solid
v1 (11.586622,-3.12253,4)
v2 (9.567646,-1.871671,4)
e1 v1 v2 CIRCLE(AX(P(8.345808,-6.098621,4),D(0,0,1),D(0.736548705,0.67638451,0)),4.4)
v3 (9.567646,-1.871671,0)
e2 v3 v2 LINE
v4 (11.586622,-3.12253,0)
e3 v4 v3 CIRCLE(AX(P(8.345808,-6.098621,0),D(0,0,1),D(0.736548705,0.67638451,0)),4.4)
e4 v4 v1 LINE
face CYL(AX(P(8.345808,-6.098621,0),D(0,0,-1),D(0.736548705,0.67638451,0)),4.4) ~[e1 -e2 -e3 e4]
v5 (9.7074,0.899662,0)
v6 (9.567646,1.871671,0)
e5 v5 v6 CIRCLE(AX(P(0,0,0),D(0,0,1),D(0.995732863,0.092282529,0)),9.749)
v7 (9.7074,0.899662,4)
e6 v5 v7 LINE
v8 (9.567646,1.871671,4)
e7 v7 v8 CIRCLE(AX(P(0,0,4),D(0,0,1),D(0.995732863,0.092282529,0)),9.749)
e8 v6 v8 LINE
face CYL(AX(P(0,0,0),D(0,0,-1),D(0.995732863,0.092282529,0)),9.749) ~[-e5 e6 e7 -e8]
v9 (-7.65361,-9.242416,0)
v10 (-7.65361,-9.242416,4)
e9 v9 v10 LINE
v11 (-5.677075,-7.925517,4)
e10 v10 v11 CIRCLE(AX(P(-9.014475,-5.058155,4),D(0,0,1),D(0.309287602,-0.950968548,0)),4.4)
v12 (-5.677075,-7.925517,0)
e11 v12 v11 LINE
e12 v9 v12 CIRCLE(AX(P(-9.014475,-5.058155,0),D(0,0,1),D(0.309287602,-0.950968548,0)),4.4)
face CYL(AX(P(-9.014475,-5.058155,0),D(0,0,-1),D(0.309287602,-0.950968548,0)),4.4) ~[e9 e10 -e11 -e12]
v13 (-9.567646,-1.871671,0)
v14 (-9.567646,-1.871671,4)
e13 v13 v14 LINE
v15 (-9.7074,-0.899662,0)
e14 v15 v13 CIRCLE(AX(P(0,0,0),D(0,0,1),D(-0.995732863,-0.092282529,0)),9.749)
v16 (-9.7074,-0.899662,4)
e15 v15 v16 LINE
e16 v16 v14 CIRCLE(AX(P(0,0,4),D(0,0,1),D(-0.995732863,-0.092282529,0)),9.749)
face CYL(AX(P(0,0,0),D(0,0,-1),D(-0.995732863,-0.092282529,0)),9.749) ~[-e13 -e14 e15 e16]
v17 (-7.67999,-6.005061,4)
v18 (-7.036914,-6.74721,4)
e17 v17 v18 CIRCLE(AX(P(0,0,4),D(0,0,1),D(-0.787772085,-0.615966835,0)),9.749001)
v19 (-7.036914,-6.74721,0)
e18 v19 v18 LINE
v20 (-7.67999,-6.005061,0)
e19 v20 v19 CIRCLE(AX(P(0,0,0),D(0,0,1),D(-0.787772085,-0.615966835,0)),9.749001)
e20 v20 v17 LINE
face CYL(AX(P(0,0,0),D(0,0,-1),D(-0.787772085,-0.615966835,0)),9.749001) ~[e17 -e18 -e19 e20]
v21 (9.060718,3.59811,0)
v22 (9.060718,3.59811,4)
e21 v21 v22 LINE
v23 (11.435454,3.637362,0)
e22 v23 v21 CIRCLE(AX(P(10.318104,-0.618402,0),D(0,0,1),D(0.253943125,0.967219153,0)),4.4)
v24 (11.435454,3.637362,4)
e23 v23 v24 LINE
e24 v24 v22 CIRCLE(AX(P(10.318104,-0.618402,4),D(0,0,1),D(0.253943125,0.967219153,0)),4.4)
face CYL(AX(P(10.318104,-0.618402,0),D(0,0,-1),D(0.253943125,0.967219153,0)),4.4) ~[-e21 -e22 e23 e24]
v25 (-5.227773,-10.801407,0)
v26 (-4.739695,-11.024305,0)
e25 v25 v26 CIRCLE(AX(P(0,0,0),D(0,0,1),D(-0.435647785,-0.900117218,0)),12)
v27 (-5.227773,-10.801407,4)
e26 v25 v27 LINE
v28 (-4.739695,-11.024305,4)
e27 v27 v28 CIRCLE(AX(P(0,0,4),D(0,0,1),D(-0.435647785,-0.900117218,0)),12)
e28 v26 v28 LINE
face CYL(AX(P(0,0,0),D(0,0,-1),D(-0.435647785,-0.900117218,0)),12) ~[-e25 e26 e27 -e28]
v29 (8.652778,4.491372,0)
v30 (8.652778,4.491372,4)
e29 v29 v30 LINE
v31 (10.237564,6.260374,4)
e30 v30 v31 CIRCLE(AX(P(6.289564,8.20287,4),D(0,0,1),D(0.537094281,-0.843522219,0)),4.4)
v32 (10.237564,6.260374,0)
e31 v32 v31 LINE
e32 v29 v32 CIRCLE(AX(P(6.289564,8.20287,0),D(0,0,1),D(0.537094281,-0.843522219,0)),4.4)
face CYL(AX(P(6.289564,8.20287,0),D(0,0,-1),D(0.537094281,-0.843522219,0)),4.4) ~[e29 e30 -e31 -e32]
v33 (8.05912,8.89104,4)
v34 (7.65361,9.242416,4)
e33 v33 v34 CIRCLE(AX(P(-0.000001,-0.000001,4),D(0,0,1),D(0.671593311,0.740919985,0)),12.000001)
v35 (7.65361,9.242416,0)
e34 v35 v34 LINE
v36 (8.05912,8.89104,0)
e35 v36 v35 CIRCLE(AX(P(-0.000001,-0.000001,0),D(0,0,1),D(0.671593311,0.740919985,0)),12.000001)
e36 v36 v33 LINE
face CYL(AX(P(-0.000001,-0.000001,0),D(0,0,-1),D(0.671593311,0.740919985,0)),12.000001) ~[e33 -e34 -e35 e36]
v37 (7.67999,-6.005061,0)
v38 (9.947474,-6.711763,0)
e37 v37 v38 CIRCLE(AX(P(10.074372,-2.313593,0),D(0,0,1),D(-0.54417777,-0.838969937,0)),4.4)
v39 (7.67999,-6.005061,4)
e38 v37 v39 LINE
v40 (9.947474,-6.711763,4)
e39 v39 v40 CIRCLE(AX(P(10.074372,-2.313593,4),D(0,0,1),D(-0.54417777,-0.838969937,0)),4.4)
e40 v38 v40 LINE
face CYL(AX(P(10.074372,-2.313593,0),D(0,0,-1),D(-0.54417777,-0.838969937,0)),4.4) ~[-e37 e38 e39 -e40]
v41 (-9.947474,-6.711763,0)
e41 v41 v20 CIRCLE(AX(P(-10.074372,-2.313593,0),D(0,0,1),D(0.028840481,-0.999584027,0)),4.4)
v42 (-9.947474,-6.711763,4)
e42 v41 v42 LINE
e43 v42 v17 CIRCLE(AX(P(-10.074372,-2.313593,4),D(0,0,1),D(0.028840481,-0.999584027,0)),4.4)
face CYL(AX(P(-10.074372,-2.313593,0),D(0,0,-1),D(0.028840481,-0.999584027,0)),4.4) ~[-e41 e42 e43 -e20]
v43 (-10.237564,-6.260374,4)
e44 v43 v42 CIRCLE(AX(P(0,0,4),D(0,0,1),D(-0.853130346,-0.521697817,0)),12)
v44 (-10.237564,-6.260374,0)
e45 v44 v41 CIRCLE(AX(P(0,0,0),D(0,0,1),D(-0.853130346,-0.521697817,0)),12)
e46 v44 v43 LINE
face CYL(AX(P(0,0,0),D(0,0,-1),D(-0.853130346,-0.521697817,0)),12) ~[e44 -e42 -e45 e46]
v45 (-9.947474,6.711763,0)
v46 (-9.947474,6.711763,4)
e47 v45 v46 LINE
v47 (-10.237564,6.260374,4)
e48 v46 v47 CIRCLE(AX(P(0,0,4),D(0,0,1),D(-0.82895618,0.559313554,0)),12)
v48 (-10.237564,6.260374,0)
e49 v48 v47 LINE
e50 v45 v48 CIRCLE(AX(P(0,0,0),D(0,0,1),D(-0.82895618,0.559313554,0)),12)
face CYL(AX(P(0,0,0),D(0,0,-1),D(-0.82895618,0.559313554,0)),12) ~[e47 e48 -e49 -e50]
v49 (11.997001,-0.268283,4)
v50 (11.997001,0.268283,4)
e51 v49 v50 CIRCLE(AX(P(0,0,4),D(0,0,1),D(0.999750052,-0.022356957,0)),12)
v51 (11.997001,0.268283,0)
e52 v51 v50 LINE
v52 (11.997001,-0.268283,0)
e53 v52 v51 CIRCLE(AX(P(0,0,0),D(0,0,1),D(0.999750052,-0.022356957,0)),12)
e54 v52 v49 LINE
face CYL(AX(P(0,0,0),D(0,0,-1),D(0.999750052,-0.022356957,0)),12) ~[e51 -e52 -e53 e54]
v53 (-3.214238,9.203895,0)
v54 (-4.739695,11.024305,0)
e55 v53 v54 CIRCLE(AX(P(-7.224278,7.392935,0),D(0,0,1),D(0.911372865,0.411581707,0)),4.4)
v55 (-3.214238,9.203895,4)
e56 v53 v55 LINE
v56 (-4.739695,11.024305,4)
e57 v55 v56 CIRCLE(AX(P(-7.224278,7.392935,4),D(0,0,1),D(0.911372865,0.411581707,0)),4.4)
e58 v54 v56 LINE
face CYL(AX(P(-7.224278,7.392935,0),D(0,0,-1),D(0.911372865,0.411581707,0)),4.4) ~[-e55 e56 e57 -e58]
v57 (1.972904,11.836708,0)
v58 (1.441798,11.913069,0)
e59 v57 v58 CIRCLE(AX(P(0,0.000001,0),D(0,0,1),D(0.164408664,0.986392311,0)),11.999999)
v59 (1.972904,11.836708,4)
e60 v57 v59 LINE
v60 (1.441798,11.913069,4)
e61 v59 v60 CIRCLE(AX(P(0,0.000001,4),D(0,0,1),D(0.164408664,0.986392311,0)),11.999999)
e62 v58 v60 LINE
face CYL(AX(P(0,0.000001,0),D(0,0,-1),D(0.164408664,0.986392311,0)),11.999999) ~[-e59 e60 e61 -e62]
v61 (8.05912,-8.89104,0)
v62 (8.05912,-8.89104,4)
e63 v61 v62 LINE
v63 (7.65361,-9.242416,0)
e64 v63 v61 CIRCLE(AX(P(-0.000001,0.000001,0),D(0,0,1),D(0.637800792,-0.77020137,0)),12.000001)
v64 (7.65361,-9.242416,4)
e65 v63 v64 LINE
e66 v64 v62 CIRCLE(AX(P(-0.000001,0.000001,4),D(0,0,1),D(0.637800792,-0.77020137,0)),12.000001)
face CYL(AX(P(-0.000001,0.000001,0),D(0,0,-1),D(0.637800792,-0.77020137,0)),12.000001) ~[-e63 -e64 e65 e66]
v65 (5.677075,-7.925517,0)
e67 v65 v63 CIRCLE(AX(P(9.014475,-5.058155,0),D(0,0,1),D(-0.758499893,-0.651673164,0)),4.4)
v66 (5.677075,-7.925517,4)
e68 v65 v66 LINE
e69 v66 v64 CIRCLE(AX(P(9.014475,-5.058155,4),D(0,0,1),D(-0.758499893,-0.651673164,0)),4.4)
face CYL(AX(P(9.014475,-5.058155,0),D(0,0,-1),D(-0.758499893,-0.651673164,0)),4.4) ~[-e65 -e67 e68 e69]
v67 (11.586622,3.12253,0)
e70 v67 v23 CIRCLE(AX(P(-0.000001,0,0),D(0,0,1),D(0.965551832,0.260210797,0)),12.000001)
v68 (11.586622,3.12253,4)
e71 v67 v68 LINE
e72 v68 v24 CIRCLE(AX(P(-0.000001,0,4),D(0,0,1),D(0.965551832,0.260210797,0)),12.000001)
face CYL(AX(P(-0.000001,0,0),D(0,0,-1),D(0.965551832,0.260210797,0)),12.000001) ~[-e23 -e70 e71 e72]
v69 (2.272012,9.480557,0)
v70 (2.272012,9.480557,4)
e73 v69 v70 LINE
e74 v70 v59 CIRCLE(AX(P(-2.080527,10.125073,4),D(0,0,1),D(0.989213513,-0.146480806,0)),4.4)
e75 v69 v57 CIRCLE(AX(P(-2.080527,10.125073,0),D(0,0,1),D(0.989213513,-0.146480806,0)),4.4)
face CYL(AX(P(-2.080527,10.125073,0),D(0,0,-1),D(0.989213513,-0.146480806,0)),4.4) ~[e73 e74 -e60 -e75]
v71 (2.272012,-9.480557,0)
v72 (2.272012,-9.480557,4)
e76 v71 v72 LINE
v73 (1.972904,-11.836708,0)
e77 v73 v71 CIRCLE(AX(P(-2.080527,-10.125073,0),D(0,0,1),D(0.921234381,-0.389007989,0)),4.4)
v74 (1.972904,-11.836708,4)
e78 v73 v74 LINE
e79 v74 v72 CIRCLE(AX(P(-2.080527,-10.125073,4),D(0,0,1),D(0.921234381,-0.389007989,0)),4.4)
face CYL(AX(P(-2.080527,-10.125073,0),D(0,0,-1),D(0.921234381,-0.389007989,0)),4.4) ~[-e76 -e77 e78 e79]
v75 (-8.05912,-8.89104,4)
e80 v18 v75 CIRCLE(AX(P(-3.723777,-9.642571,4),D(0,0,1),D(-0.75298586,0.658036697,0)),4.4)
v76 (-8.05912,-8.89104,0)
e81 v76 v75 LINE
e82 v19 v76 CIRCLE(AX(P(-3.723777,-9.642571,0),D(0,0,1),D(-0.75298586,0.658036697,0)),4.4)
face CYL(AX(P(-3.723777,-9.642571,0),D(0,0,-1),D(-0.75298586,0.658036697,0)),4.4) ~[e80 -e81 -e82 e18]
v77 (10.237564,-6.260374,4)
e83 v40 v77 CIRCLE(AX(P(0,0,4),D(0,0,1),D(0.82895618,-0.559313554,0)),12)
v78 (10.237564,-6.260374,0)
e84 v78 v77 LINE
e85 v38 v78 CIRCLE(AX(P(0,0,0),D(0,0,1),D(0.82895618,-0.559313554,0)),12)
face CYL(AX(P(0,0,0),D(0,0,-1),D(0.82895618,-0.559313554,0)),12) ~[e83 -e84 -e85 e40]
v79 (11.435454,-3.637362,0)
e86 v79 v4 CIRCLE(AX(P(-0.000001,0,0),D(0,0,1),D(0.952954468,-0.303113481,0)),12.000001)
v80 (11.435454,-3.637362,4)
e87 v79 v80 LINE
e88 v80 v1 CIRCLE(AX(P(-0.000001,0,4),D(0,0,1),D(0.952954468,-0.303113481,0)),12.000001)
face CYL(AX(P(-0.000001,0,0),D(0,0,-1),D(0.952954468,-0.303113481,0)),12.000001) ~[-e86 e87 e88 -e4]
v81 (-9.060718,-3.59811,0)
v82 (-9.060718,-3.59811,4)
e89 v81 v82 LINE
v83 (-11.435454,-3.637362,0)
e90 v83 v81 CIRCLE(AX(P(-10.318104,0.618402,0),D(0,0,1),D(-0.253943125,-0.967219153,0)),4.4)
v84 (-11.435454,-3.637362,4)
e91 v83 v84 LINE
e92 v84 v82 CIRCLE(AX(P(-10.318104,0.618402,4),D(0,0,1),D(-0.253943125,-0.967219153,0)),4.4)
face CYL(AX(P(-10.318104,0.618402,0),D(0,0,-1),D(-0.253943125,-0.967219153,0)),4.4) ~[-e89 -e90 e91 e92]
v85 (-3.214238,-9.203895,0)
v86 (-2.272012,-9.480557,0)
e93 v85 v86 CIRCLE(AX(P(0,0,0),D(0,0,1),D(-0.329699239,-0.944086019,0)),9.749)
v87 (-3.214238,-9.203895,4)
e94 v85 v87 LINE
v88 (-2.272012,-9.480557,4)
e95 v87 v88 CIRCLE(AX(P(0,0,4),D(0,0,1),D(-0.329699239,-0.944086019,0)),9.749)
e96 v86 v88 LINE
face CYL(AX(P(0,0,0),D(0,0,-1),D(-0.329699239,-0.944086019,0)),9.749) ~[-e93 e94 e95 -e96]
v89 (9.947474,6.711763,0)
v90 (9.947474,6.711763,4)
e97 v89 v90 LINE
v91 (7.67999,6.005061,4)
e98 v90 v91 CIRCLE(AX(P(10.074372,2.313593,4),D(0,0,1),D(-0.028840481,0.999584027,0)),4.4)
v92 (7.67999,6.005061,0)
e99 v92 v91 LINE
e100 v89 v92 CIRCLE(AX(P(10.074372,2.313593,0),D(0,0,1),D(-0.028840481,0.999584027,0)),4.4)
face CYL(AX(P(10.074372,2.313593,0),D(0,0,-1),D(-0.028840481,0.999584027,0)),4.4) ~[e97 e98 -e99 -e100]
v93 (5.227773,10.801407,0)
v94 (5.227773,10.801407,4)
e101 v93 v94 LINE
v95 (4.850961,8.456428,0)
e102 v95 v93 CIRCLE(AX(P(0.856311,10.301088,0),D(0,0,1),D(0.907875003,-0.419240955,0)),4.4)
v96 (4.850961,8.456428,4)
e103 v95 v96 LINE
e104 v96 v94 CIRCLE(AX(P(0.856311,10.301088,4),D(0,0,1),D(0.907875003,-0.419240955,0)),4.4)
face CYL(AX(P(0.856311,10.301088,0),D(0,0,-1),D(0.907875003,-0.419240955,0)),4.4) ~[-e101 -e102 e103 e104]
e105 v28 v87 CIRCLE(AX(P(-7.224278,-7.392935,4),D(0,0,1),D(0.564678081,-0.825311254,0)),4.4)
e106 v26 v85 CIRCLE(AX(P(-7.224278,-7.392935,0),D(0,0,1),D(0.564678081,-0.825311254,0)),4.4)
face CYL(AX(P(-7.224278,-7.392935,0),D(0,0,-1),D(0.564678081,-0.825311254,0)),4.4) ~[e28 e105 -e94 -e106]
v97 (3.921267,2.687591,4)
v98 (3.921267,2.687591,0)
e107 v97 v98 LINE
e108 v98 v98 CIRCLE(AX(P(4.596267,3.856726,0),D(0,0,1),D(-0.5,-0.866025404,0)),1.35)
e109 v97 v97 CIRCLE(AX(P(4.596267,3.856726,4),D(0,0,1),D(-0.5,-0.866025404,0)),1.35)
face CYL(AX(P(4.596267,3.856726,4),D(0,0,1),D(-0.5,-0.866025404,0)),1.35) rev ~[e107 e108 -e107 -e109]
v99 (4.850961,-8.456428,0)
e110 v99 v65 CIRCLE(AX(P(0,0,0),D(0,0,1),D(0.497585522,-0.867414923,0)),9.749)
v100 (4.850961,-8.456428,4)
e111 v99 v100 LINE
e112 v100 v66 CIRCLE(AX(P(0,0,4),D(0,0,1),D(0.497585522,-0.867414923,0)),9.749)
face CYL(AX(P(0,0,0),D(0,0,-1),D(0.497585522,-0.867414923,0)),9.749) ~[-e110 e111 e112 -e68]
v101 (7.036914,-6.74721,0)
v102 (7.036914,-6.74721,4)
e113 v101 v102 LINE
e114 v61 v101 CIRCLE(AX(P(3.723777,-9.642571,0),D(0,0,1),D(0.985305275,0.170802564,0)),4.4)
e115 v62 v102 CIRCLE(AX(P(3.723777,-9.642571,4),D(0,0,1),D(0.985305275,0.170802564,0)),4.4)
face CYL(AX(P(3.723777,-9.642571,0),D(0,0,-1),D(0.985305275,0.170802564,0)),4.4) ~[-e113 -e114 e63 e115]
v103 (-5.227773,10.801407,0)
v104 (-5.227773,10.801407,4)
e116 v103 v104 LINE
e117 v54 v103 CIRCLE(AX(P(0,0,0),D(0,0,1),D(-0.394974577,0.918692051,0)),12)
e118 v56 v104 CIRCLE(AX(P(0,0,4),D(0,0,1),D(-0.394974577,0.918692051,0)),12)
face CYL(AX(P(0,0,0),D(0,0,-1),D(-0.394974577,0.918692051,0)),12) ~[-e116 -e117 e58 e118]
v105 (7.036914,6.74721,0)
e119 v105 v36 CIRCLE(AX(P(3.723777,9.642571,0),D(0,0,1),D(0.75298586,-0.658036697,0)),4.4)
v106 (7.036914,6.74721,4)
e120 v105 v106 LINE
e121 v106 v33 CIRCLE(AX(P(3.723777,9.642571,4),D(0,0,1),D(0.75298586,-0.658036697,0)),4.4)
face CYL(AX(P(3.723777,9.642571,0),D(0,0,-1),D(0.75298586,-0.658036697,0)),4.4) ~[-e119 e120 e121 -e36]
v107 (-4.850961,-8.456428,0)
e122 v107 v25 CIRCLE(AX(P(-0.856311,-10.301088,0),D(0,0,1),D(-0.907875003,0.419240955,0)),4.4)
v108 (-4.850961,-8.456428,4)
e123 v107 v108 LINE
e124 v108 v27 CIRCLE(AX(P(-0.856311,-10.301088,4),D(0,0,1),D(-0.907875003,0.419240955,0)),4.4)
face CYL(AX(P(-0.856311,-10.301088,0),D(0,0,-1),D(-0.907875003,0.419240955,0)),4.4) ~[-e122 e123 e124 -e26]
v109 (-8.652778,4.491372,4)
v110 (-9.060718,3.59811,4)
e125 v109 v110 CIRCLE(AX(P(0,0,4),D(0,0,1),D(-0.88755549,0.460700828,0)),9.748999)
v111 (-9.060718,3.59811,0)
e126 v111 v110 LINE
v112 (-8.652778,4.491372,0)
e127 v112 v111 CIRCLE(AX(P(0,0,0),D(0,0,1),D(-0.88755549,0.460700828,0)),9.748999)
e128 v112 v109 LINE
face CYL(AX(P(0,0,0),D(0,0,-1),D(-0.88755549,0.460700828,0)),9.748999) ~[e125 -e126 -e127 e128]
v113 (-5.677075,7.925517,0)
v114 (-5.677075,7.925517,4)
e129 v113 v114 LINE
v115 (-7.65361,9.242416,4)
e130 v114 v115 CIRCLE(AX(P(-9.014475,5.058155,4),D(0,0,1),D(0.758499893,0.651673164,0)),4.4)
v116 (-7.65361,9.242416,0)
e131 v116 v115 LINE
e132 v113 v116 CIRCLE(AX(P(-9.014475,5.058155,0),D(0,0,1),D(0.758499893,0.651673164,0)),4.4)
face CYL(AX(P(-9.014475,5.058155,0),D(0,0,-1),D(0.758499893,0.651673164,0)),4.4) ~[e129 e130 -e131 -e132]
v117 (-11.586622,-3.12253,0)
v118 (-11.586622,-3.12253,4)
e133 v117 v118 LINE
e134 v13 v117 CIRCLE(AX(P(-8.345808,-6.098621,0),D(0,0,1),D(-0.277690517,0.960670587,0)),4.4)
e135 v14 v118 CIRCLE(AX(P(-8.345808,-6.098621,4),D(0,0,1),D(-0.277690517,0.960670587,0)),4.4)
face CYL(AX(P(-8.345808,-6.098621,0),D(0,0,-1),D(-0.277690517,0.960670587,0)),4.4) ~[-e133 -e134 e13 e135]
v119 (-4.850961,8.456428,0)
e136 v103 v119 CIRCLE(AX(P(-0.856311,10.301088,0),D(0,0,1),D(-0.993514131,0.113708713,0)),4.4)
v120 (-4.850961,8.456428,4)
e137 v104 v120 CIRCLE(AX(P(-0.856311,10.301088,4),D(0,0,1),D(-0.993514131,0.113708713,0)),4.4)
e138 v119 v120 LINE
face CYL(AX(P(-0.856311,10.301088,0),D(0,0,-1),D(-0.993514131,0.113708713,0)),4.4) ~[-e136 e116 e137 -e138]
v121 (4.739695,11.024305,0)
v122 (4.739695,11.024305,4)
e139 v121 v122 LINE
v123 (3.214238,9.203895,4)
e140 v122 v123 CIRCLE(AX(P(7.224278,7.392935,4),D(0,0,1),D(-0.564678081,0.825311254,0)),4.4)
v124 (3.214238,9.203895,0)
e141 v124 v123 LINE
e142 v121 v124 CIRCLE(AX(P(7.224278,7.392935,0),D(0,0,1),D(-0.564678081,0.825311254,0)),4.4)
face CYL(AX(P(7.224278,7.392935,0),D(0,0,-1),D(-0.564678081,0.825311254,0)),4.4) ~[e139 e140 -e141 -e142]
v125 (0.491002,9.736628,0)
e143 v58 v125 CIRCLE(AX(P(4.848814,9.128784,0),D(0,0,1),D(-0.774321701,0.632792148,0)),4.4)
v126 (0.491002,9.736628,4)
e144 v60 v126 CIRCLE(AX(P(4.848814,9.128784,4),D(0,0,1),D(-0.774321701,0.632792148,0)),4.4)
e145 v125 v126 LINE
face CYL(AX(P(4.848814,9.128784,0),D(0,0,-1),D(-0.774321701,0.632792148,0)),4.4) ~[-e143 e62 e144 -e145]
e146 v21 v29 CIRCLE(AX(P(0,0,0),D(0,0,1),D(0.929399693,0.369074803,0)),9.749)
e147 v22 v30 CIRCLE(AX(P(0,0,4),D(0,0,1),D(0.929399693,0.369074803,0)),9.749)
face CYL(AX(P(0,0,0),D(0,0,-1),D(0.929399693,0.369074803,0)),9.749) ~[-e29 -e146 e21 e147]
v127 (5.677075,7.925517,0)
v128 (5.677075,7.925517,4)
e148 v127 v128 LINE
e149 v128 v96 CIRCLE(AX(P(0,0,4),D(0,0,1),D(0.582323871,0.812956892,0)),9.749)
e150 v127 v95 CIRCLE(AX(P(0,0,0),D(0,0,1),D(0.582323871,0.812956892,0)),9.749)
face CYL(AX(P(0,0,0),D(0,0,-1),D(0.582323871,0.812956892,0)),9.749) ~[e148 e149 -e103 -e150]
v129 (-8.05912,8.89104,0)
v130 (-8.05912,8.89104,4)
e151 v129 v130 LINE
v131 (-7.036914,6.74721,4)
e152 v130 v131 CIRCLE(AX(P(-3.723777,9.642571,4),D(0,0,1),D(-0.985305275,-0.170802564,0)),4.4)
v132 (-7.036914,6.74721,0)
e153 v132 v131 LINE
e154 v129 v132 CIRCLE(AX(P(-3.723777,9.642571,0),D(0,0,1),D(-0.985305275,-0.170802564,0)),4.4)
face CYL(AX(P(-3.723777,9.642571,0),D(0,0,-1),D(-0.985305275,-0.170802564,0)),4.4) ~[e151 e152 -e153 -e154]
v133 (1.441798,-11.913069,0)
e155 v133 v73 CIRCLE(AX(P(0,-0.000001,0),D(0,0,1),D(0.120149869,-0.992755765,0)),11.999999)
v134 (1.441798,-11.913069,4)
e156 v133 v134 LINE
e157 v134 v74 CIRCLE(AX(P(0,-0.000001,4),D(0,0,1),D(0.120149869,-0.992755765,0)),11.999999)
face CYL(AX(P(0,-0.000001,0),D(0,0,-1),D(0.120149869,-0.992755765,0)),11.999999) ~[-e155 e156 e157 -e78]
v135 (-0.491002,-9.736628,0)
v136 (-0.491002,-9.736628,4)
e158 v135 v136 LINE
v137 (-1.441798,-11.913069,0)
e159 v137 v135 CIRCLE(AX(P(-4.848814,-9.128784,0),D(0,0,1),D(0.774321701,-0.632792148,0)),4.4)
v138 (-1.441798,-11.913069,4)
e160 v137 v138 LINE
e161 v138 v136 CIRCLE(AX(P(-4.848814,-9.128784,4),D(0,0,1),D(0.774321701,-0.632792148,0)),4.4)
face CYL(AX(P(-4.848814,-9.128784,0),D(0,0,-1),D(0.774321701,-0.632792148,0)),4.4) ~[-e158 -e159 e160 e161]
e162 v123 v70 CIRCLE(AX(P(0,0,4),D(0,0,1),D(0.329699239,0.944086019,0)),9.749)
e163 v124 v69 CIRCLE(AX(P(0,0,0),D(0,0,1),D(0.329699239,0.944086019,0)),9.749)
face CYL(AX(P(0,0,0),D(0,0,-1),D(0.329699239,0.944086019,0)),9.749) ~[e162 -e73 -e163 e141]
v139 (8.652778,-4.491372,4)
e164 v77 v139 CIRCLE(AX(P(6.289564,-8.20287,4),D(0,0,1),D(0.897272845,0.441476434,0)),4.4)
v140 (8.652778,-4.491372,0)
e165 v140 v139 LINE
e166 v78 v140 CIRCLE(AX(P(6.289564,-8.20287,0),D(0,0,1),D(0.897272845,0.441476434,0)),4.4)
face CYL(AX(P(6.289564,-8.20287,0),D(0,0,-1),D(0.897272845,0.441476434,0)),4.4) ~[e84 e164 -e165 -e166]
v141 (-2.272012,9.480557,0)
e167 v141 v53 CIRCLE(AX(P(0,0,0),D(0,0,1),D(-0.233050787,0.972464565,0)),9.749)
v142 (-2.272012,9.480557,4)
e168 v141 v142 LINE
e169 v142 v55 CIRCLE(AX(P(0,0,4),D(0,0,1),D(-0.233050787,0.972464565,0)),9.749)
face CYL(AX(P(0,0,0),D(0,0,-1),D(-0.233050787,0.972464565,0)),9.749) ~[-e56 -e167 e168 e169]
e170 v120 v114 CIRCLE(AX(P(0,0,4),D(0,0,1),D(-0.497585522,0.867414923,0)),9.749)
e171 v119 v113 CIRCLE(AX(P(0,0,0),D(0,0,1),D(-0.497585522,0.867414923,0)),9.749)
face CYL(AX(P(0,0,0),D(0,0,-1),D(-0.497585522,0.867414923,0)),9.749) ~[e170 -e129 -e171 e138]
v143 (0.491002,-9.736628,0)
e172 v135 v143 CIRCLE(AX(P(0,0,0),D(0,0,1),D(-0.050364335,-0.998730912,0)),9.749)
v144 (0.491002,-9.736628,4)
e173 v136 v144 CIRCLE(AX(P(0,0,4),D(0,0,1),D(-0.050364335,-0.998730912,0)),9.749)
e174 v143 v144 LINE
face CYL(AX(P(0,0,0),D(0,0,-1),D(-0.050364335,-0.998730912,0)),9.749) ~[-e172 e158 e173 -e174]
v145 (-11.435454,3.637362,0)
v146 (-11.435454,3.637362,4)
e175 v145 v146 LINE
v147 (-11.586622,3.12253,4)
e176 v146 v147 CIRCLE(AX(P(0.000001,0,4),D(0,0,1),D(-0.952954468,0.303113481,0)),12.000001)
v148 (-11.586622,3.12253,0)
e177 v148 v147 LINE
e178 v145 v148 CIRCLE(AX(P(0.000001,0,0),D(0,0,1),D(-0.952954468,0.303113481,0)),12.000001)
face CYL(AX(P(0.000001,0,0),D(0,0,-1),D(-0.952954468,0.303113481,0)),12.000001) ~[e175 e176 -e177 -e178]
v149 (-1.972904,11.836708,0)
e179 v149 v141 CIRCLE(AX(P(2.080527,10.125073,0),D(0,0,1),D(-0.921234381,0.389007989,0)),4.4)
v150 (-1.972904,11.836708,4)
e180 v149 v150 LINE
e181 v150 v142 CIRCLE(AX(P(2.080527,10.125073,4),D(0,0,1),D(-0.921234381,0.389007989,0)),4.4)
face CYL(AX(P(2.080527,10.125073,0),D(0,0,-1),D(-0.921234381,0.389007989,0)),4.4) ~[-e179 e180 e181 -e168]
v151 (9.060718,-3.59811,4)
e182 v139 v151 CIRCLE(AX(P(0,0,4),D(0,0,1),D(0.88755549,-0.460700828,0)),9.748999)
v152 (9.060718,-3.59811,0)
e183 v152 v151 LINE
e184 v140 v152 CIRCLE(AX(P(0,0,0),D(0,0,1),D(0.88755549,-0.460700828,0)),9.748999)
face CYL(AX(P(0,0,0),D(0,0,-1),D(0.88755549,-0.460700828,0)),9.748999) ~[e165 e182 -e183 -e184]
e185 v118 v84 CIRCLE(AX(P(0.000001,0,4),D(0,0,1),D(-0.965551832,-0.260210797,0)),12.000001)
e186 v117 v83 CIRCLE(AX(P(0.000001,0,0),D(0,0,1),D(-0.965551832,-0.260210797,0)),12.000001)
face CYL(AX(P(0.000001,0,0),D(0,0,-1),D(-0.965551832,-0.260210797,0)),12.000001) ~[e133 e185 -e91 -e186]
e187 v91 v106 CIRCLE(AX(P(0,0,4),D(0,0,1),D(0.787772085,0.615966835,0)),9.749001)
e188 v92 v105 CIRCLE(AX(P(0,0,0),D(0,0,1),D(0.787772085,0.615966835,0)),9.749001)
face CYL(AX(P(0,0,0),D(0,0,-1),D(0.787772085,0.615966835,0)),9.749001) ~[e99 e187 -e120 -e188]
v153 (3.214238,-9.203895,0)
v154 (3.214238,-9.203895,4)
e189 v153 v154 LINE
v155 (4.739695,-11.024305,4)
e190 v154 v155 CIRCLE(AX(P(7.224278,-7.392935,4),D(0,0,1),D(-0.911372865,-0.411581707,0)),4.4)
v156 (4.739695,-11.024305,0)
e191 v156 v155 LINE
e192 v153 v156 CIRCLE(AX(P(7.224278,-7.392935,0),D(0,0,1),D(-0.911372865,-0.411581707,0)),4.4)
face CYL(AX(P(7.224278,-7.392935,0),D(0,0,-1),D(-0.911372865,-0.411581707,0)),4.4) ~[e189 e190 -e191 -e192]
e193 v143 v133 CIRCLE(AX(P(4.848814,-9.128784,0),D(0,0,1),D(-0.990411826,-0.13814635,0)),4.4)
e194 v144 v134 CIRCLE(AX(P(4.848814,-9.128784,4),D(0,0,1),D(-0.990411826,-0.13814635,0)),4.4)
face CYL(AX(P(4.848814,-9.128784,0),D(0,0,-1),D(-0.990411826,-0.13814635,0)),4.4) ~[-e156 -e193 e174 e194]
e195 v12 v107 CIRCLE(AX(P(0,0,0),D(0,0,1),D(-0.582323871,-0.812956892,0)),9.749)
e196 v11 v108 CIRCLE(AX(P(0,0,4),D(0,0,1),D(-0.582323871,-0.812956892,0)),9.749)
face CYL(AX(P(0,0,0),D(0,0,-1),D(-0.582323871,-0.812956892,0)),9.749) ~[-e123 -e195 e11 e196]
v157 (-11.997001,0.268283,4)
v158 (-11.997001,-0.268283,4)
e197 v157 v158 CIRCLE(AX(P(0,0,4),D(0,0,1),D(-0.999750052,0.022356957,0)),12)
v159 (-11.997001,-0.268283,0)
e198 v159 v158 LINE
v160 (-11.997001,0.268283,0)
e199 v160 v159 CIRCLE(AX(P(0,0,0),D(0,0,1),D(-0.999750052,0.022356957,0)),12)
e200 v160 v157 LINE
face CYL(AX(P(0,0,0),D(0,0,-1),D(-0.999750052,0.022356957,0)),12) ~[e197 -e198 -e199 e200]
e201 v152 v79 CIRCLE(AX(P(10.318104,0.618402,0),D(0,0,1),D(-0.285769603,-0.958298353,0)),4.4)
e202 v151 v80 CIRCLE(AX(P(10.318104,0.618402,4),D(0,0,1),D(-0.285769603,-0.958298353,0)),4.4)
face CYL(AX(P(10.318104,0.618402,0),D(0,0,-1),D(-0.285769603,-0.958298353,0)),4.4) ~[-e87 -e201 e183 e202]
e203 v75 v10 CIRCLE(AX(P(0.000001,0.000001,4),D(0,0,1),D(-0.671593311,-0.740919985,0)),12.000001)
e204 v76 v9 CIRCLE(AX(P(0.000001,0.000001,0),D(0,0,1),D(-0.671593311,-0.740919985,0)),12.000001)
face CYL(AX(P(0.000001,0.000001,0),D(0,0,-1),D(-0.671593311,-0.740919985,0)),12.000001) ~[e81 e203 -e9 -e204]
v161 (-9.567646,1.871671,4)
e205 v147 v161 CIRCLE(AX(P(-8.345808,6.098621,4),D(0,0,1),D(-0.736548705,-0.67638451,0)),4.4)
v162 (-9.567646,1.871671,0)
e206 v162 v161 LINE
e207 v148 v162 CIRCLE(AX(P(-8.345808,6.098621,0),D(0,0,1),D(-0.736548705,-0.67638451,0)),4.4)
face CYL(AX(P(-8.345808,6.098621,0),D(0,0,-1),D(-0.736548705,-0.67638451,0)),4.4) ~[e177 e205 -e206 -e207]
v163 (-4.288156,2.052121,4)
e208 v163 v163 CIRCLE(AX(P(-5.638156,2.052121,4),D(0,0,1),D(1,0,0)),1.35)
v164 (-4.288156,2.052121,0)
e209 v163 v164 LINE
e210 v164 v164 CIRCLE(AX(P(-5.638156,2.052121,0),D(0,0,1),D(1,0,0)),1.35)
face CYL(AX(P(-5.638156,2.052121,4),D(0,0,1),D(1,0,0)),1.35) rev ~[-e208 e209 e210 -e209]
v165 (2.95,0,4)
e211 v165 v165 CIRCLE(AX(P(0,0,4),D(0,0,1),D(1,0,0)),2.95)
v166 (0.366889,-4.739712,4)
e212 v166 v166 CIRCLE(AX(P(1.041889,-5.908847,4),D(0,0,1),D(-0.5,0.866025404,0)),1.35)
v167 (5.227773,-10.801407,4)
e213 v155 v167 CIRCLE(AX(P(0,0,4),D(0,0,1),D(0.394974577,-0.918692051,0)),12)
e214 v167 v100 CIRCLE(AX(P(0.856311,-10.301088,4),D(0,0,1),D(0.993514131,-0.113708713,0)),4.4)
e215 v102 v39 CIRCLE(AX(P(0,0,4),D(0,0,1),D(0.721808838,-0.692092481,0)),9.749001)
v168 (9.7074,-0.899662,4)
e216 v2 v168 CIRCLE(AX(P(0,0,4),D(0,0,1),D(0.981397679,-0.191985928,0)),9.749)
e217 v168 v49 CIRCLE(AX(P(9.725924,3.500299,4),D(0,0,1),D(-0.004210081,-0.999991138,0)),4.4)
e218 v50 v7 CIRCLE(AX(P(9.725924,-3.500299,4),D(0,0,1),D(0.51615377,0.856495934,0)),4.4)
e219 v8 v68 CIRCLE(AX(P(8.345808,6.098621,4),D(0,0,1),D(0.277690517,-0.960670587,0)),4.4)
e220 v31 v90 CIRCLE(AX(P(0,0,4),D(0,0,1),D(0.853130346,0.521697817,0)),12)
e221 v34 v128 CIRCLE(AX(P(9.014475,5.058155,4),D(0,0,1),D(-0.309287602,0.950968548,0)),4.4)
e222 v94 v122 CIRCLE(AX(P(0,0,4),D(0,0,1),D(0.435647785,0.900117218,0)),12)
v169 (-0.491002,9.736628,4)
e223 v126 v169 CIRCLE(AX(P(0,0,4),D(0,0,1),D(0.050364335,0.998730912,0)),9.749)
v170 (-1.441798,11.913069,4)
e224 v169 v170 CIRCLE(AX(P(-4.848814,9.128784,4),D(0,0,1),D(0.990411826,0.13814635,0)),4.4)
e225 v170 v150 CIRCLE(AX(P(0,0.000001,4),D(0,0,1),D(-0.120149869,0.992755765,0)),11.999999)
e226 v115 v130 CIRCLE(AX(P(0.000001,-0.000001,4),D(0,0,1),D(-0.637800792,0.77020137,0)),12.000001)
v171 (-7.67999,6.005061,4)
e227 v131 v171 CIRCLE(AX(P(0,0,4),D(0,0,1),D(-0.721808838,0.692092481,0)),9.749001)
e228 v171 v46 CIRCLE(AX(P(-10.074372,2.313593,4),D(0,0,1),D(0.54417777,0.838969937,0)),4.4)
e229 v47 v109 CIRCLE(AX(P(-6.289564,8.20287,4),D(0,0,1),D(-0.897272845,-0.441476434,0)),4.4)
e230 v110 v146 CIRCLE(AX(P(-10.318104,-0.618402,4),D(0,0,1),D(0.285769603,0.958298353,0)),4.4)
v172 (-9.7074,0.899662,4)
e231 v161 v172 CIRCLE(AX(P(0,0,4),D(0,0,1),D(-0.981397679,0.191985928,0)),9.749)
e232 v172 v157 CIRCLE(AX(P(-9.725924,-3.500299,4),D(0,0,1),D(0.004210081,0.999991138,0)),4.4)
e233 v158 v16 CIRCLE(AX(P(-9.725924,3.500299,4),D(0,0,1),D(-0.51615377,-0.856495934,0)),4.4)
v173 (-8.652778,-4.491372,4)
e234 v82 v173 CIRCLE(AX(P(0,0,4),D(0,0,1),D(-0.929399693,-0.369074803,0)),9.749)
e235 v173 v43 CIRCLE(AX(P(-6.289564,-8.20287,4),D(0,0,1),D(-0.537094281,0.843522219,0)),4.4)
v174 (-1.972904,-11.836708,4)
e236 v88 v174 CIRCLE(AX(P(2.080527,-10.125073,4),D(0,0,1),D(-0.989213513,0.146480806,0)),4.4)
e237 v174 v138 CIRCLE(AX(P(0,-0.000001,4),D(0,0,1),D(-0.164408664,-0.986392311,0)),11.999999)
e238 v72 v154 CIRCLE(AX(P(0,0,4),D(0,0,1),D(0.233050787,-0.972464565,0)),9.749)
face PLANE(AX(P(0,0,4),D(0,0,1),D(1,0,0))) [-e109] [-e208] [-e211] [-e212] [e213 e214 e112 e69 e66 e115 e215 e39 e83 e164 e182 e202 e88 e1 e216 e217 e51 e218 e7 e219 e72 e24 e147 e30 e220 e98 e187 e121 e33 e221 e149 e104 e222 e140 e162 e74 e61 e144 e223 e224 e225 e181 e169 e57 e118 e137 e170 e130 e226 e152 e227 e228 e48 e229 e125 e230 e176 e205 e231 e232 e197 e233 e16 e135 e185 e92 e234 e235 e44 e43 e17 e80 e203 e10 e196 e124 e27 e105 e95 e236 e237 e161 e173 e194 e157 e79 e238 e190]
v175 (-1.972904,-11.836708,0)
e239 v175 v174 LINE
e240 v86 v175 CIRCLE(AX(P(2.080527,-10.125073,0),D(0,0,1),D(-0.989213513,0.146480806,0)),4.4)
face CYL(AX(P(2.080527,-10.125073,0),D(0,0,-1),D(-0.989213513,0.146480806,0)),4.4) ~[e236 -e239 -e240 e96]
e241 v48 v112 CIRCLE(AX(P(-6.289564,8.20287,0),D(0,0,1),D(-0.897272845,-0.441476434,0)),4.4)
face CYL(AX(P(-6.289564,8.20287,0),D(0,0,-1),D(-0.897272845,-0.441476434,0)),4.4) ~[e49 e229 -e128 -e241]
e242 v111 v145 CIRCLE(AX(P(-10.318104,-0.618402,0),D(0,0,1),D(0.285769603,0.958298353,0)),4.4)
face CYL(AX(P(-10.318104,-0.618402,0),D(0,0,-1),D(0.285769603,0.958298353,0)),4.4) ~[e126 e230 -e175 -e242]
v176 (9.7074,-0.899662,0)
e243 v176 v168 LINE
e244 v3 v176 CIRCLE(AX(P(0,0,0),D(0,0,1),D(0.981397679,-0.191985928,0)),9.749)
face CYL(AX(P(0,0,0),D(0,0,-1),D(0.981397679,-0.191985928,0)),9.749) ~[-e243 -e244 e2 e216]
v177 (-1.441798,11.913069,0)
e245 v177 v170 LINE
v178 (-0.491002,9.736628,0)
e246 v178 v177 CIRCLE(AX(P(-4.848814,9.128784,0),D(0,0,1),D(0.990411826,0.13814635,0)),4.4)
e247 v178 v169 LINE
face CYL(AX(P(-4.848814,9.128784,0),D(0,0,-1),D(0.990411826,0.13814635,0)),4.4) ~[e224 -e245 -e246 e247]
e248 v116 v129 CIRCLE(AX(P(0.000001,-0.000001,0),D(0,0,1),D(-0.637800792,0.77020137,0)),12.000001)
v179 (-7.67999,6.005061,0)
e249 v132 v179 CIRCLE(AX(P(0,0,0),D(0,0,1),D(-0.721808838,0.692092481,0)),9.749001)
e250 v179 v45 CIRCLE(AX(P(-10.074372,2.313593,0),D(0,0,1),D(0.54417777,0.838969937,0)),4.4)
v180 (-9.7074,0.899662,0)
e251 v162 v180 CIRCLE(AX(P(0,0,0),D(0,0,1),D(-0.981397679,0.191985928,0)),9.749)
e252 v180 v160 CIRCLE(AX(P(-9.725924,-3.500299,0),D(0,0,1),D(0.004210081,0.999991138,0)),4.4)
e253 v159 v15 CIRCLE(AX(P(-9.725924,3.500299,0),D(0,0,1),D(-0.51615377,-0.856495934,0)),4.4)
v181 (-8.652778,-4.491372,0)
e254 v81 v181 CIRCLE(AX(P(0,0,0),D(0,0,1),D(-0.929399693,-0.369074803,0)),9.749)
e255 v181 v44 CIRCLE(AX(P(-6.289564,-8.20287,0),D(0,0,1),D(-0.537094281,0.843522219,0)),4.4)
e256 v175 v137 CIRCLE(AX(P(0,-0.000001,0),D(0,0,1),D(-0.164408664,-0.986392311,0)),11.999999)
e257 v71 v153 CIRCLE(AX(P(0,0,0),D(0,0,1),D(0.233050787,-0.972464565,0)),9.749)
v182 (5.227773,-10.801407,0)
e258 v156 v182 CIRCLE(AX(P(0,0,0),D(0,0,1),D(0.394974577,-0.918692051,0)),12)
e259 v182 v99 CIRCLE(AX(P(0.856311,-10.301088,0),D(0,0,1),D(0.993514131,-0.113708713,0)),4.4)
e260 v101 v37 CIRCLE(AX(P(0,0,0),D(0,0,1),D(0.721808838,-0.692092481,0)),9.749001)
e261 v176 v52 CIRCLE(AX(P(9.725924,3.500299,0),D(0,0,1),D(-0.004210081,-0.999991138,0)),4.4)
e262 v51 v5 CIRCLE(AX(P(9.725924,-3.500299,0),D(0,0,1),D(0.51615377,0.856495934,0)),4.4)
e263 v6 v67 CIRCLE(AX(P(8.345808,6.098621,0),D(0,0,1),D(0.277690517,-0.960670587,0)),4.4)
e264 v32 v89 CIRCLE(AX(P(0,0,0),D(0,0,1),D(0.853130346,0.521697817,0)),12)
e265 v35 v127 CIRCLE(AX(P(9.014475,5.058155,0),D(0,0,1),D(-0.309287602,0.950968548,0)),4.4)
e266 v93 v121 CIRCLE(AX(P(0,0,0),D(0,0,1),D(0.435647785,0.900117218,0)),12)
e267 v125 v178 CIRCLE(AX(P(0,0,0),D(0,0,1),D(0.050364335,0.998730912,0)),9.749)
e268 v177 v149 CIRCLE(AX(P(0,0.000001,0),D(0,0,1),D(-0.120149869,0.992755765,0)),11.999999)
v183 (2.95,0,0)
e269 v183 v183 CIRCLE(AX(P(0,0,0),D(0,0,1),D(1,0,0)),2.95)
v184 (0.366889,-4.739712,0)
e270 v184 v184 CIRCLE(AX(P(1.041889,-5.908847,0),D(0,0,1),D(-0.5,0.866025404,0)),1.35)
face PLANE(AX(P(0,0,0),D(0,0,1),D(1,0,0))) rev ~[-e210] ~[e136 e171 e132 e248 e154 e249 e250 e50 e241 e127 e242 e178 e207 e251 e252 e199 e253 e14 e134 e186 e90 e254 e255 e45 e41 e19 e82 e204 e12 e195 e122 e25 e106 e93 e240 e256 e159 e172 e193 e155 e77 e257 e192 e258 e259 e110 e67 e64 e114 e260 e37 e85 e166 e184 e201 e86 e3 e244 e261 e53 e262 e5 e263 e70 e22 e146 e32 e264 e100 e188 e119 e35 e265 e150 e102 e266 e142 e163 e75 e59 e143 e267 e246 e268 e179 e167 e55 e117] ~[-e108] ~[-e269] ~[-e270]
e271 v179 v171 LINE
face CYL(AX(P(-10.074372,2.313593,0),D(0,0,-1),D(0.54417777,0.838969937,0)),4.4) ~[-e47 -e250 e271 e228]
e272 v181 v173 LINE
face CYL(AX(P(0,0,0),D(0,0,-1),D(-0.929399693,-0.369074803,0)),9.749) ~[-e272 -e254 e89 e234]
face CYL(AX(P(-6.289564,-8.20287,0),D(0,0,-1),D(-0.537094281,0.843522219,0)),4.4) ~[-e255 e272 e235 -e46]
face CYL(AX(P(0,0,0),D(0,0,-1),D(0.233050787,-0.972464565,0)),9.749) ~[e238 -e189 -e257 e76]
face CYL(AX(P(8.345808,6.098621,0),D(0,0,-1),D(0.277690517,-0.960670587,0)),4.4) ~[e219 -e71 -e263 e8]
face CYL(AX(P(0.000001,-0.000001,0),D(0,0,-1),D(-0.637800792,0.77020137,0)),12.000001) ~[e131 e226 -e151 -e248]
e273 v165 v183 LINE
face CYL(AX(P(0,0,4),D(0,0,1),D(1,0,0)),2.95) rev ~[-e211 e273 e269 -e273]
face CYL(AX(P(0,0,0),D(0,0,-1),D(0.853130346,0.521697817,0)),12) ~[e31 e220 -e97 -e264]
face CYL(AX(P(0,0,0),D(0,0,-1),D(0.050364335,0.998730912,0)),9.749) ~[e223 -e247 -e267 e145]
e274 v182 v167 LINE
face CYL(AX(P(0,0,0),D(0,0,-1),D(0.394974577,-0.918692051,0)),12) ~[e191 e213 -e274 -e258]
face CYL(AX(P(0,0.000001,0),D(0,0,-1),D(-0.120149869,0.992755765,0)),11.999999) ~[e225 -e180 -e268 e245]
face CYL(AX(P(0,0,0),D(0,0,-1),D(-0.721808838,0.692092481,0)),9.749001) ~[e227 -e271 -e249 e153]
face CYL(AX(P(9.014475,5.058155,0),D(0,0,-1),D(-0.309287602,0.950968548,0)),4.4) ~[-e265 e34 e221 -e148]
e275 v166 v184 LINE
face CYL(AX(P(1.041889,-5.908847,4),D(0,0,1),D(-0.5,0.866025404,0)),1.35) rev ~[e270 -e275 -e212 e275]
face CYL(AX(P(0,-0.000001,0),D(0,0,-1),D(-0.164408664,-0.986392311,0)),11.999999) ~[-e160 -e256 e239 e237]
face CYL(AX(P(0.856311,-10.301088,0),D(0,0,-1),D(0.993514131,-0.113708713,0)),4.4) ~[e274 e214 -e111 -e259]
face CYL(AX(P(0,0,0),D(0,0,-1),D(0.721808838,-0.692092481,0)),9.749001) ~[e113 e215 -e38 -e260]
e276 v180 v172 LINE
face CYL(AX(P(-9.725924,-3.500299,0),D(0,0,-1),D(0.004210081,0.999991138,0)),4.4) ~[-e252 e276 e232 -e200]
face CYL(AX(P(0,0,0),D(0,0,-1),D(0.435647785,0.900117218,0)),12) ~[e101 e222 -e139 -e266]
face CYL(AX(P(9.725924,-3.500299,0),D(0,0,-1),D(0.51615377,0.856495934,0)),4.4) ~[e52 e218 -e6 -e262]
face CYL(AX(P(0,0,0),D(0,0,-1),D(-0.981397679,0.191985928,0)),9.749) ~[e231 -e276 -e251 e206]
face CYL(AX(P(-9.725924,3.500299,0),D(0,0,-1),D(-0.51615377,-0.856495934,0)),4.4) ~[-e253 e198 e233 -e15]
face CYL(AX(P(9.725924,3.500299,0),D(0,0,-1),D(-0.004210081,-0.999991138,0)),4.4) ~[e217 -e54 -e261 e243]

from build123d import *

# Parameters (mm, degrees)
MODEL_R             = 2.5
BOSS_EXTRUDE1_DEPTH = 4
SKETCH2_R           = 2.95
CUT_EXTRUDE1_DEPTH  = 4
SKETCH3_R           = 1.35
CUT_EXTRUDE2_DEPTH  = 4
CIRPATTERN1_COUNT   = 3


with BuildPart() as part:
    # Model → Boss-Extrude1 (new body)
    with BuildSketch(Plane.XY):
        with BuildLine():
            ThreePointArc((-11.997000624, 0.268283487), (-12, 0), (-11.997000624, -0.268283487))
            ThreePointArc((-11.997000624, -0.268283487), (-10.895606779, -0.741380557), (-9.707399683, -0.89966238))
            ThreePointArc((-9.707399683, -0.89966238), (-9.649769237, -1.387427358), (-9.56764597, -1.8716708))
            ThreePointArc((-9.56764597, -1.8716708), (-10.663129188, -2.358297721), (-11.586621996, -3.122529539))
            ThreePointArc((-11.586621996, -3.122529539), (-11.513915683, -3.380790682), (-11.43545361, -3.637361781))
            ThreePointArc((-11.43545361, -3.637361781), (-10.245387108, -3.780996591), (-9.060717605, -3.598110265))
            ThreePointArc((-9.060717605, -3.598110265), (-8.868002323, -4.049880962), (-8.652778483, -4.491372344))
            ThreePointArc((-8.652778483, -4.491372344), (-9.566788286, -5.266920743), (-10.237564162, -6.260373793))
            ThreePointArc((-10.237564162, -6.260373793), (-10.095042394, -6.487689809), (-9.947474154, -6.711762656))
            ThreePointArc((-9.947474154, -6.711762656), (-8.765147105, -6.514298768), (-7.679990073, -6.005060656))
            ThreePointArc((-7.679990073, -6.005060656), (-7.3678026, -6.384237295), (-7.036914342, -6.747209612))
            ThreePointArc((-7.036914342, -6.747209612), (-7.695403093, -7.74884917), (-8.059119765, -8.891039794))
            ThreePointArc((-8.059119765, -8.891039794), (-7.858328807, -9.068994892), (-7.653609502, -9.242416436))
            ThreePointArc((-7.653609502, -9.242416436), (-6.574807012, -8.719851201), (-5.67707542, -7.925516745))
            ThreePointArc((-5.67707542, -7.925516745), (-5.270707329, -8.201380692), (-4.850961252, -8.456428084))
            ThreePointArc((-4.850961252, -8.456428084), (-5.200582107, -9.603011921), (-5.227773414, -10.801406627))
            ThreePointArc((-5.227773414, -10.801406627), (-4.984980156, -10.915583944), (-4.739694926, -11.024304604))
            ThreePointArc((-4.739694926, -11.024304604), (-3.851815156, -10.218973149), (-3.214237879, -9.203894603))
            ThreePointArc((-3.214237879, -9.203894603), (-2.746610697, -9.354097), (-2.27201213, -9.480557045))
            ThreePointArc((-2.27201213, -9.480557045), (-2.284440889, -10.679195758), (-1.972903952, -11.836707735))
            ThreePointArc((-1.972903952, -11.836707735), (-1.707778059, -11.877857303), (-1.441798455, -11.913069177))
            ThreePointArc((-1.441798455, -11.913069177), (-0.816772145, -10.890214666), (-0.491001901, -9.736627657))
            ThreePointArc((-0.491001901, -9.736627657), (0, -9.749), (0.491001901, -9.736627657))
            ThreePointArc((0.491001901, -9.736627657), (0.816772145, -10.890214666), (1.441798455, -11.913069177))
            ThreePointArc((1.441798455, -11.913069177), (1.707778059, -11.877857303), (1.972903952, -11.836707735))
            ThreePointArc((1.972903952, -11.836707735), (2.284440889, -10.679195758), (2.27201213, -9.480557045))
            ThreePointArc((2.27201213, -9.480557045), (2.746610697, -9.354097), (3.214237879, -9.203894603))
            ThreePointArc((3.214237879, -9.203894603), (3.851815156, -10.218973149), (4.739694926, -11.024304604))
            ThreePointArc((4.739694926, -11.024304604), (4.984980156, -10.915583944), (5.227773414, -10.801406627))
            ThreePointArc((5.227773414, -10.801406627), (5.200582107, -9.603011921), (4.850961252, -8.456428084))
            ThreePointArc((4.850961252, -8.456428084), (5.270707329, -8.201380692), (5.67707542, -7.925516745))
            ThreePointArc((5.67707542, -7.925516745), (6.574807012, -8.719851201), (7.653609502, -9.242416436))
            ThreePointArc((7.653609502, -9.242416436), (7.858328807, -9.068994892), (8.059119765, -8.891039794))
            ThreePointArc((8.059119765, -8.891039794), (7.695403093, -7.74884917), (7.036914342, -6.747209612))
            ThreePointArc((7.036914342, -6.747209612), (7.3678026, -6.384237295), (7.679990073, -6.005060656))
            ThreePointArc((7.679990073, -6.005060656), (8.765147105, -6.514298768), (9.947474154, -6.711762656))
            ThreePointArc((9.947474154, -6.711762656), (10.095042394, -6.487689809), (10.237564162, -6.260373793))
            ThreePointArc((10.237564162, -6.260373793), (9.566788286, -5.266920743), (8.652778482, -4.491372344))
            ThreePointArc((8.652778482, -4.491372344), (8.868002323, -4.049880962), (9.060717605, -3.598110265))
            ThreePointArc((9.060717605, -3.598110265), (10.245387108, -3.780996591), (11.43545361, -3.637361781))
            ThreePointArc((11.43545361, -3.637361781), (11.513915683, -3.380790682), (11.586621996, -3.122529539))
            ThreePointArc((11.586621996, -3.122529539), (10.663129188, -2.358297721), (9.56764597, -1.8716708))
            ThreePointArc((9.56764597, -1.8716708), (9.649769237, -1.387427358), (9.707399683, -0.89966238))
            ThreePointArc((9.707399683, -0.89966238), (10.895606779, -0.741380557), (11.997000624, -0.268283487))
            ThreePointArc((11.997000624, -0.268283487), (12, 0), (11.997000624, 0.268283487))
            ThreePointArc((11.997000624, 0.268283487), (10.895606779, 0.741380557), (9.707399683, 0.89966238))
            ThreePointArc((9.707399683, 0.89966238), (9.649769237, 1.387427358), (9.56764597, 1.8716708))
            ThreePointArc((9.56764597, 1.8716708), (10.663129188, 2.358297721), (11.586621996, 3.122529539))
            ThreePointArc((11.586621996, 3.122529539), (11.513915683, 3.380790682), (11.43545361, 3.637361781))
            ThreePointArc((11.43545361, 3.637361781), (10.245387108, 3.780996591), (9.060717605, 3.598110265))
            ThreePointArc((9.060717605, 3.598110265), (8.868002323, 4.049880962), (8.652778483, 4.491372344))
            ThreePointArc((8.652778483, 4.491372344), (9.566788286, 5.266920743), (10.237564162, 6.260373793))
            ThreePointArc((10.237564162, 6.260373793), (10.095042394, 6.487689809), (9.947474154, 6.711762656))
            ThreePointArc((9.947474154, 6.711762656), (8.765147105, 6.514298768), (7.679990073, 6.005060656))
            ThreePointArc((7.679990073, 6.005060656), (7.3678026, 6.384237295), (7.036914342, 6.747209612))
            ThreePointArc((7.036914342, 6.747209612), (7.695403093, 7.74884917), (8.059119765, 8.891039794))
            ThreePointArc((8.059119765, 8.891039794), (7.858328807, 9.068994892), (7.653609502, 9.242416436))
            ThreePointArc((7.653609502, 9.242416436), (6.574807012, 8.719851201), (5.67707542, 7.925516745))
            ThreePointArc((5.67707542, 7.925516745), (5.270707329, 8.201380692), (4.850961252, 8.456428084))
            ThreePointArc((4.850961252, 8.456428084), (5.200582107, 9.603011921), (5.227773414, 10.801406627))
            ThreePointArc((5.227773414, 10.801406627), (4.984980156, 10.915583944), (4.739694926, 11.024304604))
            ThreePointArc((4.739694926, 11.024304604), (3.851815156, 10.218973149), (3.214237879, 9.203894603))
            ThreePointArc((3.214237879, 9.203894603), (2.746610697, 9.354097), (2.27201213, 9.480557045))
            ThreePointArc((2.27201213, 9.480557045), (2.284440889, 10.679195758), (1.972903952, 11.836707735))
            ThreePointArc((1.972903952, 11.836707735), (1.707778059, 11.877857303), (1.441798455, 11.913069177))
            ThreePointArc((1.441798455, 11.913069177), (0.816772145, 10.890214666), (0.491001901, 9.736627657))
            ThreePointArc((0.491001901, 9.736627657), (0, 9.749), (-0.491001901, 9.736627657))
            ThreePointArc((-0.491001901, 9.736627657), (-0.816772145, 10.890214666), (-1.441798455, 11.913069177))
            ThreePointArc((-1.441798455, 11.913069177), (-1.707778059, 11.877857303), (-1.972903952, 11.836707735))
            ThreePointArc((-1.972903952, 11.836707735), (-2.284440889, 10.679195758), (-2.27201213, 9.480557045))
            ThreePointArc((-2.27201213, 9.480557045), (-2.746610697, 9.354097), (-3.214237879, 9.203894603))
            ThreePointArc((-3.214237879, 9.203894603), (-3.851815156, 10.218973149), (-4.739694926, 11.024304604))
            ThreePointArc((-4.739694926, 11.024304604), (-4.984980156, 10.915583944), (-5.227773414, 10.801406627))
            ThreePointArc((-5.227773414, 10.801406627), (-5.200582107, 9.603011921), (-4.850961252, 8.456428084))
            ThreePointArc((-4.850961252, 8.456428084), (-5.270707329, 8.201380692), (-5.67707542, 7.925516745))
            ThreePointArc((-5.67707542, 7.925516745), (-6.574807012, 8.719851201), (-7.653609502, 9.242416436))
            ThreePointArc((-7.653609502, 9.242416436), (-7.858328807, 9.068994892), (-8.059119765, 8.891039794))
            ThreePointArc((-8.059119765, 8.891039794), (-7.695403093, 7.74884917), (-7.036914342, 6.747209612))
            ThreePointArc((-7.036914342, 6.747209612), (-7.3678026, 6.384237295), (-7.679990073, 6.005060656))
            ThreePointArc((-7.679990073, 6.005060656), (-8.765147105, 6.514298768), (-9.947474154, 6.711762656))
            ThreePointArc((-9.947474154, 6.711762656), (-10.095042394, 6.487689809), (-10.237564162, 6.260373793))
            ThreePointArc((-10.237564162, 6.260373793), (-9.566788286, 5.266920743), (-8.652778482, 4.491372344))
            ThreePointArc((-8.652778482, 4.491372344), (-8.868002323, 4.049880962), (-9.060717605, 3.598110265))
            ThreePointArc((-9.060717605, 3.598110265), (-10.245387108, 3.780996591), (-11.43545361, 3.637361781))
            ThreePointArc((-11.43545361, 3.637361781), (-11.513915683, 3.380790682), (-11.586621996, 3.122529539))
            ThreePointArc((-11.586621996, 3.122529539), (-10.663129188, 2.358297721), (-9.56764597, 1.8716708))
            ThreePointArc((-9.56764597, 1.8716708), (-9.649769237, 1.387427358), (-9.707399683, 0.89966238))
            ThreePointArc((-9.707399683, 0.89966238), (-10.895606779, 0.741380557), (-11.997000624, 0.268283487))
        make_face()
        Circle(MODEL_R, mode=Mode.SUBTRACT)
    extrude(amount=BOSS_EXTRUDE1_DEPTH)

    # Sketch2 → Cut-Extrude1 (cut)
    with BuildSketch(Plane.XY.offset(4)):
        Circle(SKETCH2_R)
    extrude(amount=-CUT_EXTRUDE1_DEPTH, mode=Mode.SUBTRACT)

    # Sketch3 → Cut-Extrude2 (cut)
    with BuildSketch(Plane.XY.offset(4)):
        with Locations((-5.638155725, 2.05212086)):
            Circle(SKETCH3_R)
    cut_extrude2 = extrude(amount=-CUT_EXTRUDE2_DEPTH, mode=Mode.SUBTRACT)

    # CirPattern1: Cut-Extrude2 ×3 about axis
    cirpattern1_axis = Axis((0, 0, 0), (0, 0, 1))
    for i in range(1, CIRPATTERN1_COUNT):
        add(cut_extrude2.rotate(cirpattern1_axis, i * 360 / CIRPATTERN1_COUNT), mode=Mode.SUBTRACT)


solid = part.part
